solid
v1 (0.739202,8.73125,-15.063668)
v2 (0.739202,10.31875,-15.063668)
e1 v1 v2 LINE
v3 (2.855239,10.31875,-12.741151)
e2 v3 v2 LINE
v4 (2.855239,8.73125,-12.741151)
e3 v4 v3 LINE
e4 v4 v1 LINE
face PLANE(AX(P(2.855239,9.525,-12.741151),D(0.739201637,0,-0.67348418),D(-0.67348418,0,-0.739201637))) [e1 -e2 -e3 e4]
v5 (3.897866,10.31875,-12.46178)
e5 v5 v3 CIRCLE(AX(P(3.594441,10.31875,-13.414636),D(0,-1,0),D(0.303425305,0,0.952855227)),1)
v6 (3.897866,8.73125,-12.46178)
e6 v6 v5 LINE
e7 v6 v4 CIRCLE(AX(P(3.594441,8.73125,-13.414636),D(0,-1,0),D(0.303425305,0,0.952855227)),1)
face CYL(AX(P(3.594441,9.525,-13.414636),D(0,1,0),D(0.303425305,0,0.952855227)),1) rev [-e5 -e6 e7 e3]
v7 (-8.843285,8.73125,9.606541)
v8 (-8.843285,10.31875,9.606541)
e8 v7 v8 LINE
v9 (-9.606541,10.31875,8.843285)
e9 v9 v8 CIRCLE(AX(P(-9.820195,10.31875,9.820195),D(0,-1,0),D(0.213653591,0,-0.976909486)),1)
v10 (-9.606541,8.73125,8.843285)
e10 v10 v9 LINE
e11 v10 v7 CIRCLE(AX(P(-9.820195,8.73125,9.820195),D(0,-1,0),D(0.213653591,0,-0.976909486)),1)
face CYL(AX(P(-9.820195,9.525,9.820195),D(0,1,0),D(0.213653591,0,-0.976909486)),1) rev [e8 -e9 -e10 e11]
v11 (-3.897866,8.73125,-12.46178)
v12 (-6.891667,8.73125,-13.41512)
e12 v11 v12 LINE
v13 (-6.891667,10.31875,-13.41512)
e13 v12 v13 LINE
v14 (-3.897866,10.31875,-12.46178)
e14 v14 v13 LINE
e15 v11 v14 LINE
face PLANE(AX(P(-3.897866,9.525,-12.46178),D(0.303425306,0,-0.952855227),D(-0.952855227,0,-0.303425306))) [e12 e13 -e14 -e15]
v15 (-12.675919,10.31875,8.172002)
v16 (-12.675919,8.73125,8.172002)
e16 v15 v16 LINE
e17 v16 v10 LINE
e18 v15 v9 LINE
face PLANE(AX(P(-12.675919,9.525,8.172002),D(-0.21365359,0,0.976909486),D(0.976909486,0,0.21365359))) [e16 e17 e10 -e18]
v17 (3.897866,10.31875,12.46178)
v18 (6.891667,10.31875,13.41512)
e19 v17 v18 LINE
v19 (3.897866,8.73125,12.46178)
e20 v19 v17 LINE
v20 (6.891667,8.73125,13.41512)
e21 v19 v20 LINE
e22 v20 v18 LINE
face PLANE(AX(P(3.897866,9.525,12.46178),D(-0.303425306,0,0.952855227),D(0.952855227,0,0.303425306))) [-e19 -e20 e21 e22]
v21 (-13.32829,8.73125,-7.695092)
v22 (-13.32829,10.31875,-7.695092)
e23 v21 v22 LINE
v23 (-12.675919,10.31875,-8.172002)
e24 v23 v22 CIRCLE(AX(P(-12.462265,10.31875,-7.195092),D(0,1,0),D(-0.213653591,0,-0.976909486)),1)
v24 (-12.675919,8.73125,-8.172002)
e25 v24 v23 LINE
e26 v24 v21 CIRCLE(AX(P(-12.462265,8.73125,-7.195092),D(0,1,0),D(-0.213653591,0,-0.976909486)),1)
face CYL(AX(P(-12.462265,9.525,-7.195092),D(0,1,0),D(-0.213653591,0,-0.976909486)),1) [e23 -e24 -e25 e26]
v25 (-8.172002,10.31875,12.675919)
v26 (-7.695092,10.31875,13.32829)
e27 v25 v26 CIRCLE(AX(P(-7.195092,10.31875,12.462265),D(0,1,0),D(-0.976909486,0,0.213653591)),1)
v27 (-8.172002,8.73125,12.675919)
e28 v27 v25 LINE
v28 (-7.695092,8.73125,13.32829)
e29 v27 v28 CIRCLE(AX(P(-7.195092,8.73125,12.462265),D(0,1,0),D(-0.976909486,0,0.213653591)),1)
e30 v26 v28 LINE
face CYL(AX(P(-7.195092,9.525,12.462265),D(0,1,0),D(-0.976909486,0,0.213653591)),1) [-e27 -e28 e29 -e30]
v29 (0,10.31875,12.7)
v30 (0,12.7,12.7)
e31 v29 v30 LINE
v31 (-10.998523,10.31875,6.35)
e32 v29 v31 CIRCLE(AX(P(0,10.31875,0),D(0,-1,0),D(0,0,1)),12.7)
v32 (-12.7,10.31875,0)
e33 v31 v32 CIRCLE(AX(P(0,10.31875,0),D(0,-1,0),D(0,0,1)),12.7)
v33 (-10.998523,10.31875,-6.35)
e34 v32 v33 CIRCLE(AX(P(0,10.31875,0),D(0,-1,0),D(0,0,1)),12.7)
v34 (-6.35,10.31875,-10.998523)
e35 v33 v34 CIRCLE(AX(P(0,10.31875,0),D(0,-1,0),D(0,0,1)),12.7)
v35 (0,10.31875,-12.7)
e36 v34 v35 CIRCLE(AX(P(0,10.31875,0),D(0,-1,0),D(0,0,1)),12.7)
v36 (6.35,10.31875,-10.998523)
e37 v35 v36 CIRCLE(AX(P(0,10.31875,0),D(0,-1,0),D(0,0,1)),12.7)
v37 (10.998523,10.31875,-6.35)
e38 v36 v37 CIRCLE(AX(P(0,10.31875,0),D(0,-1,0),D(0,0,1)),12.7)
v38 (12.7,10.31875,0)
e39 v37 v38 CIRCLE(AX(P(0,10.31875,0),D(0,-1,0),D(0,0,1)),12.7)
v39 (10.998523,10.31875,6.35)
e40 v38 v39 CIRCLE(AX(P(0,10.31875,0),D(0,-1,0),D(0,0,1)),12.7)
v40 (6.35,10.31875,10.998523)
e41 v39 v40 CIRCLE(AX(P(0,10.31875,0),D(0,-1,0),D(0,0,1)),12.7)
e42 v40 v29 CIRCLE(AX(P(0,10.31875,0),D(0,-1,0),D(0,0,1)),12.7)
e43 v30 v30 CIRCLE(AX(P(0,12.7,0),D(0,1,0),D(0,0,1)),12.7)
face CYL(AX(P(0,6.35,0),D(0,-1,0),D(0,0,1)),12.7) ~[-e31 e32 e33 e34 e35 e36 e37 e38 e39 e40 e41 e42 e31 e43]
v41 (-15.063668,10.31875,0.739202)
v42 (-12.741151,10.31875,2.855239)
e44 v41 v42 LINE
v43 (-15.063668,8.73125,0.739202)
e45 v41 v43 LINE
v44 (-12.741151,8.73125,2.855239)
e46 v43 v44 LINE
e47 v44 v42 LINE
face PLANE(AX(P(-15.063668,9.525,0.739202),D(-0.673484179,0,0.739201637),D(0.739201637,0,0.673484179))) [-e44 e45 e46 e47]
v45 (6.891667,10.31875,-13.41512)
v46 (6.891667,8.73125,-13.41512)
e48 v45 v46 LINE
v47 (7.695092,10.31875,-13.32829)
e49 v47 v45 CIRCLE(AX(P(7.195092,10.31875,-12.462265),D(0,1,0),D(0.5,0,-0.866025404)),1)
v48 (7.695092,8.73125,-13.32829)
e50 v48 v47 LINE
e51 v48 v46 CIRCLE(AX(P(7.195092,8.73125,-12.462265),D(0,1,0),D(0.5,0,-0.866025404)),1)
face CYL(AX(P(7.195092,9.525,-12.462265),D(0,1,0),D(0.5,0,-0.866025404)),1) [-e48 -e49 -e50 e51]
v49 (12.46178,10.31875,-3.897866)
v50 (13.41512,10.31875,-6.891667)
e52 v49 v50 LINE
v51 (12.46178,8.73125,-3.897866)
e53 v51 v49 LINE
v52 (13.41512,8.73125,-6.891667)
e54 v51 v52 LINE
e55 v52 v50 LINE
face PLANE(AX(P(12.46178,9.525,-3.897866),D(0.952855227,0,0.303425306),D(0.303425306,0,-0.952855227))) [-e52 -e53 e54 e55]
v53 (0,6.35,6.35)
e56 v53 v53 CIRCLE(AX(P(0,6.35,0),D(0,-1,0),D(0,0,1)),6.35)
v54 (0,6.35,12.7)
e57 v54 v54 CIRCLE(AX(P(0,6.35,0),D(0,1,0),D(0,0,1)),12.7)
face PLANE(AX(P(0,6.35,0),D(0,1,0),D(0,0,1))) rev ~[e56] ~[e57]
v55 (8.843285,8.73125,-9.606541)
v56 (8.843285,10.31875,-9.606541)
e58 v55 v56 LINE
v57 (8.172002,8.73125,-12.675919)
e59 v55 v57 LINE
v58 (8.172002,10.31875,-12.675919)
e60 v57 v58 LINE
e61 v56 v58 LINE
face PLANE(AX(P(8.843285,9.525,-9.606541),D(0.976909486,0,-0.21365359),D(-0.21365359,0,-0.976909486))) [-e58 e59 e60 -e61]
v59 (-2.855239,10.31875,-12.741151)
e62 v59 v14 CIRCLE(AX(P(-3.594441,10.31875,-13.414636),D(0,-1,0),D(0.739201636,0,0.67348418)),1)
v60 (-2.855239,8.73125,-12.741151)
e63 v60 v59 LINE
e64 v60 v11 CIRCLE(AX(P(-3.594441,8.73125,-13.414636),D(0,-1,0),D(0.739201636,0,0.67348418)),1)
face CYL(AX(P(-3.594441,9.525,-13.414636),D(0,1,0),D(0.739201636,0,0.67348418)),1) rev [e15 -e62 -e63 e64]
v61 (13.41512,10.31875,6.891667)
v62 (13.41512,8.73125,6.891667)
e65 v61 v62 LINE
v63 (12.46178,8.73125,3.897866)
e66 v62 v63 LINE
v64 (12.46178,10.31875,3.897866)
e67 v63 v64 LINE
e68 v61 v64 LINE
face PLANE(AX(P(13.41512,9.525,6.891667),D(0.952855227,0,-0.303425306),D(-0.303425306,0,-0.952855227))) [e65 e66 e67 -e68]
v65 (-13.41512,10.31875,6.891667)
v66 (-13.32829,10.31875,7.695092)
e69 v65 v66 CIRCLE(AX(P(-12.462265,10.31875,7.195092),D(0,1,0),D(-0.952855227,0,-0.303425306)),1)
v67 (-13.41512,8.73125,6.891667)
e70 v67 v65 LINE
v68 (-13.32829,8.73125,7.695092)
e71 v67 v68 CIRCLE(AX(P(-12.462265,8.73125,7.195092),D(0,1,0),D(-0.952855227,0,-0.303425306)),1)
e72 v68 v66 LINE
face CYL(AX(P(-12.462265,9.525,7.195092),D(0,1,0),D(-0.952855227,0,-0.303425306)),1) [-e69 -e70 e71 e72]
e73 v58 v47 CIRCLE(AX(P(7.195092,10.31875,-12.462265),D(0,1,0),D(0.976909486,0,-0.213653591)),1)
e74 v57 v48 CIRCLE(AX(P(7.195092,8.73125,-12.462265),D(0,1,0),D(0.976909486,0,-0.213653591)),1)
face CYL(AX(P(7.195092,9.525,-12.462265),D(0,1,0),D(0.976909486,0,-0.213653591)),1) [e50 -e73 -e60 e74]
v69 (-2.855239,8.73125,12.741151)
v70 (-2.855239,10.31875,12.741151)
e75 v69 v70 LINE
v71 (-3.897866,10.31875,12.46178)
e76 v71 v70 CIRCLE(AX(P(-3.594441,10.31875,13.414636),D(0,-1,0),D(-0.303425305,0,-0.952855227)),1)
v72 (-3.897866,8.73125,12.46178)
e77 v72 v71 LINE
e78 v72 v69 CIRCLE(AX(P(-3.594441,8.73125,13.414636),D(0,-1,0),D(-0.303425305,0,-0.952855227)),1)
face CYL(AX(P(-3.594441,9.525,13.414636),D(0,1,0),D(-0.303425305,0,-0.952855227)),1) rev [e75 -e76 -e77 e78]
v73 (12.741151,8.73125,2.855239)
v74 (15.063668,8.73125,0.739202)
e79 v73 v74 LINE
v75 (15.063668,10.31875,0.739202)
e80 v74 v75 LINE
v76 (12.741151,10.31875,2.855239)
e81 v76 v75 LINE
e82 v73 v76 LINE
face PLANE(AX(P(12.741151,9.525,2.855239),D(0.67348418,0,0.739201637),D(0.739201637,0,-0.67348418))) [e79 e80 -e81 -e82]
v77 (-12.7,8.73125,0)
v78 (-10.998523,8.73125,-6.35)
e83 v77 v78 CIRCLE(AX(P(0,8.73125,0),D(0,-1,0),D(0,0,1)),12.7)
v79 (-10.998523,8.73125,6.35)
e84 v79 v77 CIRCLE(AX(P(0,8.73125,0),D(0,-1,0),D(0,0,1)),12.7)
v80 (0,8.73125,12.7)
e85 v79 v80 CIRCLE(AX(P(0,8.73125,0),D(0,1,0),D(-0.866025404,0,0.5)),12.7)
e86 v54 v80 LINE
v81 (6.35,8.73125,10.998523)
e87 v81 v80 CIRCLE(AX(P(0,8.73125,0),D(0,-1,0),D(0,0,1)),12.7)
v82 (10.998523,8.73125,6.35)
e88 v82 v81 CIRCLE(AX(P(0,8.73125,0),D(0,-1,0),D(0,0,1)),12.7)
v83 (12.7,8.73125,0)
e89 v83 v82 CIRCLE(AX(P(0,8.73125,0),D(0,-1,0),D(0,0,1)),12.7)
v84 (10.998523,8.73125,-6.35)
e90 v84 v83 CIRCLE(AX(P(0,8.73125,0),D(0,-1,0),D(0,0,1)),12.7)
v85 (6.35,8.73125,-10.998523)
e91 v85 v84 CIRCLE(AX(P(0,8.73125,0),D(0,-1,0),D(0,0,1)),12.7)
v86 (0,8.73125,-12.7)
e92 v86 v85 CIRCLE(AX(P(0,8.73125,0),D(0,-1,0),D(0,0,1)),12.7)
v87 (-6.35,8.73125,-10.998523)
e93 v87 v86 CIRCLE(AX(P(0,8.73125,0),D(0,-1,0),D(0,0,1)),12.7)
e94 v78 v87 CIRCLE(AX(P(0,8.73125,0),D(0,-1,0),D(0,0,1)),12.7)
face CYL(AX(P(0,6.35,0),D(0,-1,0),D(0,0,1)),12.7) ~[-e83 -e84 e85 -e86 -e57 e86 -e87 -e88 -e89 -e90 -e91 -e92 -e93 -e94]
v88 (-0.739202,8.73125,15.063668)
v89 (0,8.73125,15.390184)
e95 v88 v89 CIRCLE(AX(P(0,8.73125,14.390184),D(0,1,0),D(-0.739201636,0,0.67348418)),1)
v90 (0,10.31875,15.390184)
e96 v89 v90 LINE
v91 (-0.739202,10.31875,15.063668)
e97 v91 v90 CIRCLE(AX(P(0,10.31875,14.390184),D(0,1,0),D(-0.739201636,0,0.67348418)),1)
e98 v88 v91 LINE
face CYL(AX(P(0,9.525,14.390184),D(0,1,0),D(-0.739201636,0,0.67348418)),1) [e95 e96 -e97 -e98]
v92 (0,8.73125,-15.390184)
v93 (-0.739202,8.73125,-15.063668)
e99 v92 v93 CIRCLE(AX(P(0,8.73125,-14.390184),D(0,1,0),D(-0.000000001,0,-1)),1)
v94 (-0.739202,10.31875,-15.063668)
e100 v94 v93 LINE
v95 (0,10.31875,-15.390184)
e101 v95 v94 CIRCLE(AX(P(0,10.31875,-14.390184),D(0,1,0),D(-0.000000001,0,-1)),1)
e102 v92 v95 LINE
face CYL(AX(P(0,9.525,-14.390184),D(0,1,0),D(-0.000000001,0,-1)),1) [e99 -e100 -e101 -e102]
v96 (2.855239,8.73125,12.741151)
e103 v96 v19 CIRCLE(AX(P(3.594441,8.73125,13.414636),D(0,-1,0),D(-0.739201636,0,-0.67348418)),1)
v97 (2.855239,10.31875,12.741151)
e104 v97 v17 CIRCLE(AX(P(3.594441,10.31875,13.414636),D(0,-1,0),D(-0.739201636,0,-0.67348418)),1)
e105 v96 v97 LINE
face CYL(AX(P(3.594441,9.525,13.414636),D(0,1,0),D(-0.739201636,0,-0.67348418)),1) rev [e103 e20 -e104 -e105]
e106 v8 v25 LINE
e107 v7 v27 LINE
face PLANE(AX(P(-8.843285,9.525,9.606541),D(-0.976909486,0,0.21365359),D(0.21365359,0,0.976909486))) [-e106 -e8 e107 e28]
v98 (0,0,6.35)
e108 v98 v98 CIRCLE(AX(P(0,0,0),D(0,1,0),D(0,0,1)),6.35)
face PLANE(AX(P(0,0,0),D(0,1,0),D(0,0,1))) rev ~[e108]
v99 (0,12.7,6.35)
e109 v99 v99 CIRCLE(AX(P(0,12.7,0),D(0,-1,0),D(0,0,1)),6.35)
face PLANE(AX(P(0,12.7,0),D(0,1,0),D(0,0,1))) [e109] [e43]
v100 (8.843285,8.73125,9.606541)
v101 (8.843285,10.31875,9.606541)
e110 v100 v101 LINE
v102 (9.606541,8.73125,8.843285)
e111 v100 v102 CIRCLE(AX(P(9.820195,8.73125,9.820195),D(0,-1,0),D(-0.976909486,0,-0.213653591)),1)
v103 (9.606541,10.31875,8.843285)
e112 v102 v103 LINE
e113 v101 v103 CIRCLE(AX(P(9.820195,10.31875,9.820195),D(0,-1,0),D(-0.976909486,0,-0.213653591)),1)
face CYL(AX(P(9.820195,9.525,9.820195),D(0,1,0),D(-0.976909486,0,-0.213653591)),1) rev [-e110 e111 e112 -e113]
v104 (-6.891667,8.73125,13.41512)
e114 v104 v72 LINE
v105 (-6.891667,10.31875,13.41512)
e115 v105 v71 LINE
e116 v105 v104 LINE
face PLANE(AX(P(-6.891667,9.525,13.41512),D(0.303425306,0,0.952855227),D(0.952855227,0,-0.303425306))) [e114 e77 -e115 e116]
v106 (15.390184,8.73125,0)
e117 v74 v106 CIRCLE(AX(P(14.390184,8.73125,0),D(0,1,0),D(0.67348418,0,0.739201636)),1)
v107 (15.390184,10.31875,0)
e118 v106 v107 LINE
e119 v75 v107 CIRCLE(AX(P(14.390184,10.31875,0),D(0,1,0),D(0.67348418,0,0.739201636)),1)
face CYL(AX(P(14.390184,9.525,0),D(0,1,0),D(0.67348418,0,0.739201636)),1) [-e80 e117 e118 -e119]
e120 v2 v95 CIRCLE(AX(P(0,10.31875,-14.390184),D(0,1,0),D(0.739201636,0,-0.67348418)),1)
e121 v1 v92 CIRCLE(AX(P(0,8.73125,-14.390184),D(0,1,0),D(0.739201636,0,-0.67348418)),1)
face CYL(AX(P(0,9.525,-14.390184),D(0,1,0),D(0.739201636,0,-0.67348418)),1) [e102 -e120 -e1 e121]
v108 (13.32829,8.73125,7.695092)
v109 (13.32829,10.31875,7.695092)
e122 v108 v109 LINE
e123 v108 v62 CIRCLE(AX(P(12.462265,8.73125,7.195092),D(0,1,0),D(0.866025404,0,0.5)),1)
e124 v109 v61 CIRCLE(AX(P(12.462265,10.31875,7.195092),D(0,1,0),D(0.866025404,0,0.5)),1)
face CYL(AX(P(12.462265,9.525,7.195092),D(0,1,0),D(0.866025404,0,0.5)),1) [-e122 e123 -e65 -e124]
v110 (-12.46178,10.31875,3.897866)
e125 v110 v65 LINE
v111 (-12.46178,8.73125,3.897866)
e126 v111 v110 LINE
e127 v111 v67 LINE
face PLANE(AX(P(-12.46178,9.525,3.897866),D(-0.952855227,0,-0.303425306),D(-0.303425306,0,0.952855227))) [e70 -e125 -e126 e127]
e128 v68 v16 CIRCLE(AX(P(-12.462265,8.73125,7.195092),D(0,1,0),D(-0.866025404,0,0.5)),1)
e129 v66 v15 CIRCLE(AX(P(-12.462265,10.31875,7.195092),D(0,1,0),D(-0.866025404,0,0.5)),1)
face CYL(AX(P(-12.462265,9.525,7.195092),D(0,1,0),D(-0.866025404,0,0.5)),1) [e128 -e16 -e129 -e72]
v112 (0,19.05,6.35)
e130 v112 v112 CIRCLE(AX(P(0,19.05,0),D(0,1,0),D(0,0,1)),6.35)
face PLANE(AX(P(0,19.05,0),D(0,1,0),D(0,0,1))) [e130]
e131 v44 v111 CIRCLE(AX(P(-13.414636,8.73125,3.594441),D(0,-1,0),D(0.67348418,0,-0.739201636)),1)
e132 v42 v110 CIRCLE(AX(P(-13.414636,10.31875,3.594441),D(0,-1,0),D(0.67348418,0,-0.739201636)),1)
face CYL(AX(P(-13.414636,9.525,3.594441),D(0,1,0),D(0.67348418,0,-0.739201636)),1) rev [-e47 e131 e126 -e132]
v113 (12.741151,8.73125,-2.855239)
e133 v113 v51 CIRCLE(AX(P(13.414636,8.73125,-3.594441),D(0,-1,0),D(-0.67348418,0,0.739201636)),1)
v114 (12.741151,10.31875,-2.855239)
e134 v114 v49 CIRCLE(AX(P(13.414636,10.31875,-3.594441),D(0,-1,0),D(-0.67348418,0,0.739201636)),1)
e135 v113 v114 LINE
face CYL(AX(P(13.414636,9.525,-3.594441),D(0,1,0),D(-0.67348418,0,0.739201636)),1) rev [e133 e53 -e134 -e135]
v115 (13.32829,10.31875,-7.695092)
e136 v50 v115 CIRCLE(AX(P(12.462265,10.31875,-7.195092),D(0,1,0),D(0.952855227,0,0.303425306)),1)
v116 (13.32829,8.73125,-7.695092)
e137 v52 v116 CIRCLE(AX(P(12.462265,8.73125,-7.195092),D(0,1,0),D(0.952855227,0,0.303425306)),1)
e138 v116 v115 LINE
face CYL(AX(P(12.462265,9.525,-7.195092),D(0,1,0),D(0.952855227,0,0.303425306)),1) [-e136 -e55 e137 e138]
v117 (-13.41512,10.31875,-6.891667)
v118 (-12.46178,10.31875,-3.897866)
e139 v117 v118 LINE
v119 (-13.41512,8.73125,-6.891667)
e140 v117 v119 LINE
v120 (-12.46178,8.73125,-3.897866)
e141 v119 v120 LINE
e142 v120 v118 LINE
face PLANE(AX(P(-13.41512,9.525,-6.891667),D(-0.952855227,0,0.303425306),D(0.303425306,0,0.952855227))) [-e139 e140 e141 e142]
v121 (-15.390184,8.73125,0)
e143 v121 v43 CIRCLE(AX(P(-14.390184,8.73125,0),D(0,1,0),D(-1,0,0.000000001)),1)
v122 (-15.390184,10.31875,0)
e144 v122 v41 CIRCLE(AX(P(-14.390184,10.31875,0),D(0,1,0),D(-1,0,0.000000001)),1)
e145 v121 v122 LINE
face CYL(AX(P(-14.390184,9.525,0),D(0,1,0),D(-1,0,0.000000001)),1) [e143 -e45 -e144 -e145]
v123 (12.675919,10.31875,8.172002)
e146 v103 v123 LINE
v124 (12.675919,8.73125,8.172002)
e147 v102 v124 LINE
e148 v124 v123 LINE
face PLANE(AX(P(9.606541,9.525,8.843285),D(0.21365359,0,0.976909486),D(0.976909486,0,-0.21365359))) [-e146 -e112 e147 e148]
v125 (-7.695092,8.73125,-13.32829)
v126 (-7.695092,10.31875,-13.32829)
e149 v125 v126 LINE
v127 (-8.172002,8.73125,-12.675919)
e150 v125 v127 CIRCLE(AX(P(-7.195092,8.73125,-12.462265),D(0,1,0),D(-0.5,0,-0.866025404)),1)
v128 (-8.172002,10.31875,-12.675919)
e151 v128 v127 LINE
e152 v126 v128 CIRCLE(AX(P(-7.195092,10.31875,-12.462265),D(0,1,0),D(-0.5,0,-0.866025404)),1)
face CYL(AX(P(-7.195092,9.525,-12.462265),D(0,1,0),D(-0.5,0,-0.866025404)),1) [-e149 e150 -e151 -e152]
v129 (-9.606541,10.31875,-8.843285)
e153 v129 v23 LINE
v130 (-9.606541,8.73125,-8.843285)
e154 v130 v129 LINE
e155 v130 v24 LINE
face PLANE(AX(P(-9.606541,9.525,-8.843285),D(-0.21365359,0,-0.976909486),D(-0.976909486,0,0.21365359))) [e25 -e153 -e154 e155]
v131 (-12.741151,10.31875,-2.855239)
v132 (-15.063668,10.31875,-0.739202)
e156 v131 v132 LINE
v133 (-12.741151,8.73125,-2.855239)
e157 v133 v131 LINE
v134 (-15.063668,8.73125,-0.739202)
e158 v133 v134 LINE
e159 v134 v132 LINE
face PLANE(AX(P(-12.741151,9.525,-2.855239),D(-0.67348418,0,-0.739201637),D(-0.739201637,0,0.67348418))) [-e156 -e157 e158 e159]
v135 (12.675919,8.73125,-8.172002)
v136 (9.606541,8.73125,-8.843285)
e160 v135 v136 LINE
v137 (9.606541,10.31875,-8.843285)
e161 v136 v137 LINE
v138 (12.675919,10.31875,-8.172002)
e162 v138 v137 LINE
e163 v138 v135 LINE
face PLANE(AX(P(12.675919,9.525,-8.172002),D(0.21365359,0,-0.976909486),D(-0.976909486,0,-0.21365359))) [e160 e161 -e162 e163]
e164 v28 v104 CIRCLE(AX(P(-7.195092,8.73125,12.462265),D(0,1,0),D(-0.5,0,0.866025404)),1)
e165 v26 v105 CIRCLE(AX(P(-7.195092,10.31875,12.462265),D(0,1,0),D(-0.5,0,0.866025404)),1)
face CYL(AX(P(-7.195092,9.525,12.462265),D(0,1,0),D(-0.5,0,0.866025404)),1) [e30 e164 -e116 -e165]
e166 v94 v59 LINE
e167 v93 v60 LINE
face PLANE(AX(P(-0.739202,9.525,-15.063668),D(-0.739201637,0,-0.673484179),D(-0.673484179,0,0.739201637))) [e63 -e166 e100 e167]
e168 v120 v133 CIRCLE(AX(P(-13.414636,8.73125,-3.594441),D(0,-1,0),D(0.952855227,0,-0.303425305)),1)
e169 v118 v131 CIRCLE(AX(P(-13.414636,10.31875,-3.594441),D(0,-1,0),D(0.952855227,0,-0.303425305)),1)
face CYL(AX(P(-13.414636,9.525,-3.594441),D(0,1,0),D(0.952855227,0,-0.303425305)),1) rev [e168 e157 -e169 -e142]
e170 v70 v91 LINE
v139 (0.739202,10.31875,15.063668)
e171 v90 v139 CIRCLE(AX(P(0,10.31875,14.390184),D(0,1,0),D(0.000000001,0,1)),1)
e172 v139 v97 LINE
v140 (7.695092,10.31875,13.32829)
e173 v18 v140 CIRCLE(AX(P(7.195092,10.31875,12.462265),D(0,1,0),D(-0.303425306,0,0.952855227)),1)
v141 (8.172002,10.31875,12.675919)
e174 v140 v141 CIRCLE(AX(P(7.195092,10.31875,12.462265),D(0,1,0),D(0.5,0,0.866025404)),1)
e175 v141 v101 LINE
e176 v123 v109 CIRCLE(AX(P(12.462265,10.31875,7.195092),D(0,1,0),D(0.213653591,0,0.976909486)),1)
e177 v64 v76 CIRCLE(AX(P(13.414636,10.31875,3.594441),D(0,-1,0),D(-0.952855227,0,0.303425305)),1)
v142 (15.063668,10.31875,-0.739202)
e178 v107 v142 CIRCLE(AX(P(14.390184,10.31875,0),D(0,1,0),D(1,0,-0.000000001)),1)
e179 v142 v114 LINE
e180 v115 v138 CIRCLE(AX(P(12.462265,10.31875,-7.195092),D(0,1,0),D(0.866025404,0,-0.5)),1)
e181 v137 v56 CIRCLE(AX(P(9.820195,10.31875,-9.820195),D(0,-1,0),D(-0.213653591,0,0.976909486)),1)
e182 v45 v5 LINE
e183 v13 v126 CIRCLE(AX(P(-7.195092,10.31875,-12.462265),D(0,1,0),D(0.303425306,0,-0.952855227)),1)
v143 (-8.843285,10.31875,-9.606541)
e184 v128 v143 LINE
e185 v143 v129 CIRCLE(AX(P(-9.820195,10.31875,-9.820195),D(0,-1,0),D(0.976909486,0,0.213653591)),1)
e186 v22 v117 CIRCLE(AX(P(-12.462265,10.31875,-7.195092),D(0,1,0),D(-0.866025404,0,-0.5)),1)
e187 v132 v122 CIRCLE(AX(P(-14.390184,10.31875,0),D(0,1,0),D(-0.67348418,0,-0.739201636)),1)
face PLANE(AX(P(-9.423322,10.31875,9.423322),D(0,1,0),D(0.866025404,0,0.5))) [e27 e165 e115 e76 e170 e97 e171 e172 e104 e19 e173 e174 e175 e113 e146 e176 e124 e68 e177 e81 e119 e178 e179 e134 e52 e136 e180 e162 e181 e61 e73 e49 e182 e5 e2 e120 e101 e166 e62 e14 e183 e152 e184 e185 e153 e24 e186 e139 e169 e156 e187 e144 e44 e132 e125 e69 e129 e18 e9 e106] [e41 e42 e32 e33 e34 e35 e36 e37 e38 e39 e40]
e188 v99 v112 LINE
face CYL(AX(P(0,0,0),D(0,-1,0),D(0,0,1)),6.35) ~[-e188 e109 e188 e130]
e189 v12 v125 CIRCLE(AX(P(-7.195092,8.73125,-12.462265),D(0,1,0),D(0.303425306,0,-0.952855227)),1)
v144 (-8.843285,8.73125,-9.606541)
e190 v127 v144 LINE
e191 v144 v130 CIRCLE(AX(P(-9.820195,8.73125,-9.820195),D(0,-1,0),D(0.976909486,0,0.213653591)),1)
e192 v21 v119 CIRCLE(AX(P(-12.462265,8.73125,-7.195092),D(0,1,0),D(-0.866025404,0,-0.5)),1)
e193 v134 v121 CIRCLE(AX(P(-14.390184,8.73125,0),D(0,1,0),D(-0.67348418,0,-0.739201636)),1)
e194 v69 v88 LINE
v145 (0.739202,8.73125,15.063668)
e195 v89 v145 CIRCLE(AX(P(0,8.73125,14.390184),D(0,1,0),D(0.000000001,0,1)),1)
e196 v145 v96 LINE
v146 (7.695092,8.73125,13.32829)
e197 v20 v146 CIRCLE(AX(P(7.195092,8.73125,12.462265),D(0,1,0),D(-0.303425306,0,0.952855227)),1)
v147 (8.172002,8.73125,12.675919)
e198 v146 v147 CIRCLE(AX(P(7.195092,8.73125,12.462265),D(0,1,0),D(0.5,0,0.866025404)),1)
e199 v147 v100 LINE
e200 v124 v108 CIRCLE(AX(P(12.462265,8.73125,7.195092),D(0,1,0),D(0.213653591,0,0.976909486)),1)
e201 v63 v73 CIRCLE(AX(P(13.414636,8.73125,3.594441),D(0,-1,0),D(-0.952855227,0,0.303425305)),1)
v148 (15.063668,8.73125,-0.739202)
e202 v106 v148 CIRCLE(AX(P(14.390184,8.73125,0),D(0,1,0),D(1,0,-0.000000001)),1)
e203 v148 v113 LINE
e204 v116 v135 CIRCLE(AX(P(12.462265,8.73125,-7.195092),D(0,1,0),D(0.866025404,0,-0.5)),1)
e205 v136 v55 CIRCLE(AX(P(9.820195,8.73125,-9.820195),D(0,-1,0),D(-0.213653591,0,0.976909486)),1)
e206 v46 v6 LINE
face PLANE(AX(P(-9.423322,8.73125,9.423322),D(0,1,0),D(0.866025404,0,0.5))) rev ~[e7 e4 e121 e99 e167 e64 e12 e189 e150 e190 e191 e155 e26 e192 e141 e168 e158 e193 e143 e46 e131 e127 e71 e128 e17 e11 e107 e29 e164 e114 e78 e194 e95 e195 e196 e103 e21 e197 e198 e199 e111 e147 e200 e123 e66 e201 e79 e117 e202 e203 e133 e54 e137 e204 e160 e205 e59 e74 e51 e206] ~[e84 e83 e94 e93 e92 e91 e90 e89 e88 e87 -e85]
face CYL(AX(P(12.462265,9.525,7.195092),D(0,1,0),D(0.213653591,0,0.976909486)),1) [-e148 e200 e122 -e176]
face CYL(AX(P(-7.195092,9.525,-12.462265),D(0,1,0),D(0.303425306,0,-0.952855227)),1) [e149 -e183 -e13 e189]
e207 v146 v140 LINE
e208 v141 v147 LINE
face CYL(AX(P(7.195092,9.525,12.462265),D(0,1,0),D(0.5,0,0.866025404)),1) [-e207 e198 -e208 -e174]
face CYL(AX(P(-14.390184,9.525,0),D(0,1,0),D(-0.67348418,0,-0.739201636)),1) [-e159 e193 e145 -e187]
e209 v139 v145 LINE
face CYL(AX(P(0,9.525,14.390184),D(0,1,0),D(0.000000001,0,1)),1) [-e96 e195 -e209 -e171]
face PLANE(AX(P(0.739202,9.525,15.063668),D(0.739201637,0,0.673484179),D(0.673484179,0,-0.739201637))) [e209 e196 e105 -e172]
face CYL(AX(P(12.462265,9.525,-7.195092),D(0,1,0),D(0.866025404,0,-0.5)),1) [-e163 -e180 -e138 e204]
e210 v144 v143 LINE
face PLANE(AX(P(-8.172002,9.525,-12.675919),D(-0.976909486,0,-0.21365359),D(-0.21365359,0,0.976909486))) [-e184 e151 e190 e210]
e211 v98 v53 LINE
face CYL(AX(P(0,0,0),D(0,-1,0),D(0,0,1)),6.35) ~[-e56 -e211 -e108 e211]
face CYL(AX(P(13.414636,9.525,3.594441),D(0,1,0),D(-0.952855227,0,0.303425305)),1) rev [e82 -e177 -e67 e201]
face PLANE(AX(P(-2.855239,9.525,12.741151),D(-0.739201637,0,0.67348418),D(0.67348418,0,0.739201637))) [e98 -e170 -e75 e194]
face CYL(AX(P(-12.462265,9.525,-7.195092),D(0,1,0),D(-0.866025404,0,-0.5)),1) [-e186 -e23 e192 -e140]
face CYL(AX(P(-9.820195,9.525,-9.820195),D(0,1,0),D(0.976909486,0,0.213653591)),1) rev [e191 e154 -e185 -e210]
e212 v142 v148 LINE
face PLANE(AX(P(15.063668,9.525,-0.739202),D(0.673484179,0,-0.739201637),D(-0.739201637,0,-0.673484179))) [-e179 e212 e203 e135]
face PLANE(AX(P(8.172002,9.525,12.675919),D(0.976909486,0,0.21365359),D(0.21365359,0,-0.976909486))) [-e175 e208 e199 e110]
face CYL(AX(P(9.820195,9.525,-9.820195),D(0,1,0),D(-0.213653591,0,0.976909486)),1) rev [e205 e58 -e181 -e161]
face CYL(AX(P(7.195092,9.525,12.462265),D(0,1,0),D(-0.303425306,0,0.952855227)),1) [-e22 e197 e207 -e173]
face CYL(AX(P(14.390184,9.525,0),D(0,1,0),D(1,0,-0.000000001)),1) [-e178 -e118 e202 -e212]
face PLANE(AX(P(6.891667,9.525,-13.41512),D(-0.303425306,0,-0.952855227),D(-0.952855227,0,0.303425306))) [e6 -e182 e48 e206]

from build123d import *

# Parameters (mm, degrees)
SKETCH1_R           = 6.35
BOSS_EXTRUDE1_DEPTH = 19.05
BOSS_EXTRUDE2_START = 6.35
SKETCH2_R           = 12.7
BOSS_EXTRUDE2_DEPTH = 6.35
BOSS_EXTRUDE3_DEPTH = 0.79375
CIRPATTERN1_COUNT   = 12


with BuildPart() as part:
    # Sketch1 → Boss-Extrude1 (new body)
    with BuildSketch(Plane(origin=(0, 0, 0), x_dir=(1, 0, 0), z_dir=(0, 1, 0))):
        with Locations(Location((0, 0, 0), (0, 0, 270))):
            Circle(SKETCH1_R)
    extrude(amount=BOSS_EXTRUDE1_DEPTH)

    # Sketch2 → Boss-Extrude2 (add)
    with BuildSketch(Plane(origin=(0, 0, 0), x_dir=(1, 0, 0), z_dir=(0, 1, 0)).offset(BOSS_EXTRUDE2_START)):
        with Locations(Location((0, 0, 0), (0, 0, 270))):
            Circle(SKETCH2_R)
    extrude(amount=BOSS_EXTRUDE2_DEPTH)

    # Sketch3 → Boss-Extrude3 (add, symmetric)
    with BuildSketch(Plane(origin=(0, 9.525, 0), x_dir=(1, 0, 0), z_dir=(0, 1, 0))):
        with BuildLine():
            Line((-6.891666757, -13.415120246), (-3.89786608, -12.461780366))
            ThreePointArc((-3.89786608, -12.461780366), (-3.335621729, -12.448709767), (-2.855239137, -12.741151414))
            Line((-2.855239137, -12.741151414), (-0.739201637, -15.063668306))
            ThreePointArc((-0.739201637, -15.063668306), (-0.404051866, -15.304920203), (0, -15.390184127))
            Line((0, -15.390184127), (0, -12.7))
            Line((0, -12.7), (-6.35, -10.998522628))
            Line((-6.35, -10.998522628), (-7.695092063, -13.328290423))
            ThreePointArc((-7.695092063, -13.328290423), (-7.302540921, -13.456475632), (-6.891666757, -13.415120246))
        make_face()
    boss_extrude3 = extrude(amount=BOSS_EXTRUDE3_DEPTH, both=True)

    # CirPattern1: Boss-Extrude3 ×12 about axis
    cirpattern1_axis = Axis((0, 0, 0), (0, 1, 0))
    for i in range(1, CIRPATTERN1_COUNT):
        add(boss_extrude3.rotate(cirpattern1_axis, i * 360 / CIRPATTERN1_COUNT))


solid = part.part
